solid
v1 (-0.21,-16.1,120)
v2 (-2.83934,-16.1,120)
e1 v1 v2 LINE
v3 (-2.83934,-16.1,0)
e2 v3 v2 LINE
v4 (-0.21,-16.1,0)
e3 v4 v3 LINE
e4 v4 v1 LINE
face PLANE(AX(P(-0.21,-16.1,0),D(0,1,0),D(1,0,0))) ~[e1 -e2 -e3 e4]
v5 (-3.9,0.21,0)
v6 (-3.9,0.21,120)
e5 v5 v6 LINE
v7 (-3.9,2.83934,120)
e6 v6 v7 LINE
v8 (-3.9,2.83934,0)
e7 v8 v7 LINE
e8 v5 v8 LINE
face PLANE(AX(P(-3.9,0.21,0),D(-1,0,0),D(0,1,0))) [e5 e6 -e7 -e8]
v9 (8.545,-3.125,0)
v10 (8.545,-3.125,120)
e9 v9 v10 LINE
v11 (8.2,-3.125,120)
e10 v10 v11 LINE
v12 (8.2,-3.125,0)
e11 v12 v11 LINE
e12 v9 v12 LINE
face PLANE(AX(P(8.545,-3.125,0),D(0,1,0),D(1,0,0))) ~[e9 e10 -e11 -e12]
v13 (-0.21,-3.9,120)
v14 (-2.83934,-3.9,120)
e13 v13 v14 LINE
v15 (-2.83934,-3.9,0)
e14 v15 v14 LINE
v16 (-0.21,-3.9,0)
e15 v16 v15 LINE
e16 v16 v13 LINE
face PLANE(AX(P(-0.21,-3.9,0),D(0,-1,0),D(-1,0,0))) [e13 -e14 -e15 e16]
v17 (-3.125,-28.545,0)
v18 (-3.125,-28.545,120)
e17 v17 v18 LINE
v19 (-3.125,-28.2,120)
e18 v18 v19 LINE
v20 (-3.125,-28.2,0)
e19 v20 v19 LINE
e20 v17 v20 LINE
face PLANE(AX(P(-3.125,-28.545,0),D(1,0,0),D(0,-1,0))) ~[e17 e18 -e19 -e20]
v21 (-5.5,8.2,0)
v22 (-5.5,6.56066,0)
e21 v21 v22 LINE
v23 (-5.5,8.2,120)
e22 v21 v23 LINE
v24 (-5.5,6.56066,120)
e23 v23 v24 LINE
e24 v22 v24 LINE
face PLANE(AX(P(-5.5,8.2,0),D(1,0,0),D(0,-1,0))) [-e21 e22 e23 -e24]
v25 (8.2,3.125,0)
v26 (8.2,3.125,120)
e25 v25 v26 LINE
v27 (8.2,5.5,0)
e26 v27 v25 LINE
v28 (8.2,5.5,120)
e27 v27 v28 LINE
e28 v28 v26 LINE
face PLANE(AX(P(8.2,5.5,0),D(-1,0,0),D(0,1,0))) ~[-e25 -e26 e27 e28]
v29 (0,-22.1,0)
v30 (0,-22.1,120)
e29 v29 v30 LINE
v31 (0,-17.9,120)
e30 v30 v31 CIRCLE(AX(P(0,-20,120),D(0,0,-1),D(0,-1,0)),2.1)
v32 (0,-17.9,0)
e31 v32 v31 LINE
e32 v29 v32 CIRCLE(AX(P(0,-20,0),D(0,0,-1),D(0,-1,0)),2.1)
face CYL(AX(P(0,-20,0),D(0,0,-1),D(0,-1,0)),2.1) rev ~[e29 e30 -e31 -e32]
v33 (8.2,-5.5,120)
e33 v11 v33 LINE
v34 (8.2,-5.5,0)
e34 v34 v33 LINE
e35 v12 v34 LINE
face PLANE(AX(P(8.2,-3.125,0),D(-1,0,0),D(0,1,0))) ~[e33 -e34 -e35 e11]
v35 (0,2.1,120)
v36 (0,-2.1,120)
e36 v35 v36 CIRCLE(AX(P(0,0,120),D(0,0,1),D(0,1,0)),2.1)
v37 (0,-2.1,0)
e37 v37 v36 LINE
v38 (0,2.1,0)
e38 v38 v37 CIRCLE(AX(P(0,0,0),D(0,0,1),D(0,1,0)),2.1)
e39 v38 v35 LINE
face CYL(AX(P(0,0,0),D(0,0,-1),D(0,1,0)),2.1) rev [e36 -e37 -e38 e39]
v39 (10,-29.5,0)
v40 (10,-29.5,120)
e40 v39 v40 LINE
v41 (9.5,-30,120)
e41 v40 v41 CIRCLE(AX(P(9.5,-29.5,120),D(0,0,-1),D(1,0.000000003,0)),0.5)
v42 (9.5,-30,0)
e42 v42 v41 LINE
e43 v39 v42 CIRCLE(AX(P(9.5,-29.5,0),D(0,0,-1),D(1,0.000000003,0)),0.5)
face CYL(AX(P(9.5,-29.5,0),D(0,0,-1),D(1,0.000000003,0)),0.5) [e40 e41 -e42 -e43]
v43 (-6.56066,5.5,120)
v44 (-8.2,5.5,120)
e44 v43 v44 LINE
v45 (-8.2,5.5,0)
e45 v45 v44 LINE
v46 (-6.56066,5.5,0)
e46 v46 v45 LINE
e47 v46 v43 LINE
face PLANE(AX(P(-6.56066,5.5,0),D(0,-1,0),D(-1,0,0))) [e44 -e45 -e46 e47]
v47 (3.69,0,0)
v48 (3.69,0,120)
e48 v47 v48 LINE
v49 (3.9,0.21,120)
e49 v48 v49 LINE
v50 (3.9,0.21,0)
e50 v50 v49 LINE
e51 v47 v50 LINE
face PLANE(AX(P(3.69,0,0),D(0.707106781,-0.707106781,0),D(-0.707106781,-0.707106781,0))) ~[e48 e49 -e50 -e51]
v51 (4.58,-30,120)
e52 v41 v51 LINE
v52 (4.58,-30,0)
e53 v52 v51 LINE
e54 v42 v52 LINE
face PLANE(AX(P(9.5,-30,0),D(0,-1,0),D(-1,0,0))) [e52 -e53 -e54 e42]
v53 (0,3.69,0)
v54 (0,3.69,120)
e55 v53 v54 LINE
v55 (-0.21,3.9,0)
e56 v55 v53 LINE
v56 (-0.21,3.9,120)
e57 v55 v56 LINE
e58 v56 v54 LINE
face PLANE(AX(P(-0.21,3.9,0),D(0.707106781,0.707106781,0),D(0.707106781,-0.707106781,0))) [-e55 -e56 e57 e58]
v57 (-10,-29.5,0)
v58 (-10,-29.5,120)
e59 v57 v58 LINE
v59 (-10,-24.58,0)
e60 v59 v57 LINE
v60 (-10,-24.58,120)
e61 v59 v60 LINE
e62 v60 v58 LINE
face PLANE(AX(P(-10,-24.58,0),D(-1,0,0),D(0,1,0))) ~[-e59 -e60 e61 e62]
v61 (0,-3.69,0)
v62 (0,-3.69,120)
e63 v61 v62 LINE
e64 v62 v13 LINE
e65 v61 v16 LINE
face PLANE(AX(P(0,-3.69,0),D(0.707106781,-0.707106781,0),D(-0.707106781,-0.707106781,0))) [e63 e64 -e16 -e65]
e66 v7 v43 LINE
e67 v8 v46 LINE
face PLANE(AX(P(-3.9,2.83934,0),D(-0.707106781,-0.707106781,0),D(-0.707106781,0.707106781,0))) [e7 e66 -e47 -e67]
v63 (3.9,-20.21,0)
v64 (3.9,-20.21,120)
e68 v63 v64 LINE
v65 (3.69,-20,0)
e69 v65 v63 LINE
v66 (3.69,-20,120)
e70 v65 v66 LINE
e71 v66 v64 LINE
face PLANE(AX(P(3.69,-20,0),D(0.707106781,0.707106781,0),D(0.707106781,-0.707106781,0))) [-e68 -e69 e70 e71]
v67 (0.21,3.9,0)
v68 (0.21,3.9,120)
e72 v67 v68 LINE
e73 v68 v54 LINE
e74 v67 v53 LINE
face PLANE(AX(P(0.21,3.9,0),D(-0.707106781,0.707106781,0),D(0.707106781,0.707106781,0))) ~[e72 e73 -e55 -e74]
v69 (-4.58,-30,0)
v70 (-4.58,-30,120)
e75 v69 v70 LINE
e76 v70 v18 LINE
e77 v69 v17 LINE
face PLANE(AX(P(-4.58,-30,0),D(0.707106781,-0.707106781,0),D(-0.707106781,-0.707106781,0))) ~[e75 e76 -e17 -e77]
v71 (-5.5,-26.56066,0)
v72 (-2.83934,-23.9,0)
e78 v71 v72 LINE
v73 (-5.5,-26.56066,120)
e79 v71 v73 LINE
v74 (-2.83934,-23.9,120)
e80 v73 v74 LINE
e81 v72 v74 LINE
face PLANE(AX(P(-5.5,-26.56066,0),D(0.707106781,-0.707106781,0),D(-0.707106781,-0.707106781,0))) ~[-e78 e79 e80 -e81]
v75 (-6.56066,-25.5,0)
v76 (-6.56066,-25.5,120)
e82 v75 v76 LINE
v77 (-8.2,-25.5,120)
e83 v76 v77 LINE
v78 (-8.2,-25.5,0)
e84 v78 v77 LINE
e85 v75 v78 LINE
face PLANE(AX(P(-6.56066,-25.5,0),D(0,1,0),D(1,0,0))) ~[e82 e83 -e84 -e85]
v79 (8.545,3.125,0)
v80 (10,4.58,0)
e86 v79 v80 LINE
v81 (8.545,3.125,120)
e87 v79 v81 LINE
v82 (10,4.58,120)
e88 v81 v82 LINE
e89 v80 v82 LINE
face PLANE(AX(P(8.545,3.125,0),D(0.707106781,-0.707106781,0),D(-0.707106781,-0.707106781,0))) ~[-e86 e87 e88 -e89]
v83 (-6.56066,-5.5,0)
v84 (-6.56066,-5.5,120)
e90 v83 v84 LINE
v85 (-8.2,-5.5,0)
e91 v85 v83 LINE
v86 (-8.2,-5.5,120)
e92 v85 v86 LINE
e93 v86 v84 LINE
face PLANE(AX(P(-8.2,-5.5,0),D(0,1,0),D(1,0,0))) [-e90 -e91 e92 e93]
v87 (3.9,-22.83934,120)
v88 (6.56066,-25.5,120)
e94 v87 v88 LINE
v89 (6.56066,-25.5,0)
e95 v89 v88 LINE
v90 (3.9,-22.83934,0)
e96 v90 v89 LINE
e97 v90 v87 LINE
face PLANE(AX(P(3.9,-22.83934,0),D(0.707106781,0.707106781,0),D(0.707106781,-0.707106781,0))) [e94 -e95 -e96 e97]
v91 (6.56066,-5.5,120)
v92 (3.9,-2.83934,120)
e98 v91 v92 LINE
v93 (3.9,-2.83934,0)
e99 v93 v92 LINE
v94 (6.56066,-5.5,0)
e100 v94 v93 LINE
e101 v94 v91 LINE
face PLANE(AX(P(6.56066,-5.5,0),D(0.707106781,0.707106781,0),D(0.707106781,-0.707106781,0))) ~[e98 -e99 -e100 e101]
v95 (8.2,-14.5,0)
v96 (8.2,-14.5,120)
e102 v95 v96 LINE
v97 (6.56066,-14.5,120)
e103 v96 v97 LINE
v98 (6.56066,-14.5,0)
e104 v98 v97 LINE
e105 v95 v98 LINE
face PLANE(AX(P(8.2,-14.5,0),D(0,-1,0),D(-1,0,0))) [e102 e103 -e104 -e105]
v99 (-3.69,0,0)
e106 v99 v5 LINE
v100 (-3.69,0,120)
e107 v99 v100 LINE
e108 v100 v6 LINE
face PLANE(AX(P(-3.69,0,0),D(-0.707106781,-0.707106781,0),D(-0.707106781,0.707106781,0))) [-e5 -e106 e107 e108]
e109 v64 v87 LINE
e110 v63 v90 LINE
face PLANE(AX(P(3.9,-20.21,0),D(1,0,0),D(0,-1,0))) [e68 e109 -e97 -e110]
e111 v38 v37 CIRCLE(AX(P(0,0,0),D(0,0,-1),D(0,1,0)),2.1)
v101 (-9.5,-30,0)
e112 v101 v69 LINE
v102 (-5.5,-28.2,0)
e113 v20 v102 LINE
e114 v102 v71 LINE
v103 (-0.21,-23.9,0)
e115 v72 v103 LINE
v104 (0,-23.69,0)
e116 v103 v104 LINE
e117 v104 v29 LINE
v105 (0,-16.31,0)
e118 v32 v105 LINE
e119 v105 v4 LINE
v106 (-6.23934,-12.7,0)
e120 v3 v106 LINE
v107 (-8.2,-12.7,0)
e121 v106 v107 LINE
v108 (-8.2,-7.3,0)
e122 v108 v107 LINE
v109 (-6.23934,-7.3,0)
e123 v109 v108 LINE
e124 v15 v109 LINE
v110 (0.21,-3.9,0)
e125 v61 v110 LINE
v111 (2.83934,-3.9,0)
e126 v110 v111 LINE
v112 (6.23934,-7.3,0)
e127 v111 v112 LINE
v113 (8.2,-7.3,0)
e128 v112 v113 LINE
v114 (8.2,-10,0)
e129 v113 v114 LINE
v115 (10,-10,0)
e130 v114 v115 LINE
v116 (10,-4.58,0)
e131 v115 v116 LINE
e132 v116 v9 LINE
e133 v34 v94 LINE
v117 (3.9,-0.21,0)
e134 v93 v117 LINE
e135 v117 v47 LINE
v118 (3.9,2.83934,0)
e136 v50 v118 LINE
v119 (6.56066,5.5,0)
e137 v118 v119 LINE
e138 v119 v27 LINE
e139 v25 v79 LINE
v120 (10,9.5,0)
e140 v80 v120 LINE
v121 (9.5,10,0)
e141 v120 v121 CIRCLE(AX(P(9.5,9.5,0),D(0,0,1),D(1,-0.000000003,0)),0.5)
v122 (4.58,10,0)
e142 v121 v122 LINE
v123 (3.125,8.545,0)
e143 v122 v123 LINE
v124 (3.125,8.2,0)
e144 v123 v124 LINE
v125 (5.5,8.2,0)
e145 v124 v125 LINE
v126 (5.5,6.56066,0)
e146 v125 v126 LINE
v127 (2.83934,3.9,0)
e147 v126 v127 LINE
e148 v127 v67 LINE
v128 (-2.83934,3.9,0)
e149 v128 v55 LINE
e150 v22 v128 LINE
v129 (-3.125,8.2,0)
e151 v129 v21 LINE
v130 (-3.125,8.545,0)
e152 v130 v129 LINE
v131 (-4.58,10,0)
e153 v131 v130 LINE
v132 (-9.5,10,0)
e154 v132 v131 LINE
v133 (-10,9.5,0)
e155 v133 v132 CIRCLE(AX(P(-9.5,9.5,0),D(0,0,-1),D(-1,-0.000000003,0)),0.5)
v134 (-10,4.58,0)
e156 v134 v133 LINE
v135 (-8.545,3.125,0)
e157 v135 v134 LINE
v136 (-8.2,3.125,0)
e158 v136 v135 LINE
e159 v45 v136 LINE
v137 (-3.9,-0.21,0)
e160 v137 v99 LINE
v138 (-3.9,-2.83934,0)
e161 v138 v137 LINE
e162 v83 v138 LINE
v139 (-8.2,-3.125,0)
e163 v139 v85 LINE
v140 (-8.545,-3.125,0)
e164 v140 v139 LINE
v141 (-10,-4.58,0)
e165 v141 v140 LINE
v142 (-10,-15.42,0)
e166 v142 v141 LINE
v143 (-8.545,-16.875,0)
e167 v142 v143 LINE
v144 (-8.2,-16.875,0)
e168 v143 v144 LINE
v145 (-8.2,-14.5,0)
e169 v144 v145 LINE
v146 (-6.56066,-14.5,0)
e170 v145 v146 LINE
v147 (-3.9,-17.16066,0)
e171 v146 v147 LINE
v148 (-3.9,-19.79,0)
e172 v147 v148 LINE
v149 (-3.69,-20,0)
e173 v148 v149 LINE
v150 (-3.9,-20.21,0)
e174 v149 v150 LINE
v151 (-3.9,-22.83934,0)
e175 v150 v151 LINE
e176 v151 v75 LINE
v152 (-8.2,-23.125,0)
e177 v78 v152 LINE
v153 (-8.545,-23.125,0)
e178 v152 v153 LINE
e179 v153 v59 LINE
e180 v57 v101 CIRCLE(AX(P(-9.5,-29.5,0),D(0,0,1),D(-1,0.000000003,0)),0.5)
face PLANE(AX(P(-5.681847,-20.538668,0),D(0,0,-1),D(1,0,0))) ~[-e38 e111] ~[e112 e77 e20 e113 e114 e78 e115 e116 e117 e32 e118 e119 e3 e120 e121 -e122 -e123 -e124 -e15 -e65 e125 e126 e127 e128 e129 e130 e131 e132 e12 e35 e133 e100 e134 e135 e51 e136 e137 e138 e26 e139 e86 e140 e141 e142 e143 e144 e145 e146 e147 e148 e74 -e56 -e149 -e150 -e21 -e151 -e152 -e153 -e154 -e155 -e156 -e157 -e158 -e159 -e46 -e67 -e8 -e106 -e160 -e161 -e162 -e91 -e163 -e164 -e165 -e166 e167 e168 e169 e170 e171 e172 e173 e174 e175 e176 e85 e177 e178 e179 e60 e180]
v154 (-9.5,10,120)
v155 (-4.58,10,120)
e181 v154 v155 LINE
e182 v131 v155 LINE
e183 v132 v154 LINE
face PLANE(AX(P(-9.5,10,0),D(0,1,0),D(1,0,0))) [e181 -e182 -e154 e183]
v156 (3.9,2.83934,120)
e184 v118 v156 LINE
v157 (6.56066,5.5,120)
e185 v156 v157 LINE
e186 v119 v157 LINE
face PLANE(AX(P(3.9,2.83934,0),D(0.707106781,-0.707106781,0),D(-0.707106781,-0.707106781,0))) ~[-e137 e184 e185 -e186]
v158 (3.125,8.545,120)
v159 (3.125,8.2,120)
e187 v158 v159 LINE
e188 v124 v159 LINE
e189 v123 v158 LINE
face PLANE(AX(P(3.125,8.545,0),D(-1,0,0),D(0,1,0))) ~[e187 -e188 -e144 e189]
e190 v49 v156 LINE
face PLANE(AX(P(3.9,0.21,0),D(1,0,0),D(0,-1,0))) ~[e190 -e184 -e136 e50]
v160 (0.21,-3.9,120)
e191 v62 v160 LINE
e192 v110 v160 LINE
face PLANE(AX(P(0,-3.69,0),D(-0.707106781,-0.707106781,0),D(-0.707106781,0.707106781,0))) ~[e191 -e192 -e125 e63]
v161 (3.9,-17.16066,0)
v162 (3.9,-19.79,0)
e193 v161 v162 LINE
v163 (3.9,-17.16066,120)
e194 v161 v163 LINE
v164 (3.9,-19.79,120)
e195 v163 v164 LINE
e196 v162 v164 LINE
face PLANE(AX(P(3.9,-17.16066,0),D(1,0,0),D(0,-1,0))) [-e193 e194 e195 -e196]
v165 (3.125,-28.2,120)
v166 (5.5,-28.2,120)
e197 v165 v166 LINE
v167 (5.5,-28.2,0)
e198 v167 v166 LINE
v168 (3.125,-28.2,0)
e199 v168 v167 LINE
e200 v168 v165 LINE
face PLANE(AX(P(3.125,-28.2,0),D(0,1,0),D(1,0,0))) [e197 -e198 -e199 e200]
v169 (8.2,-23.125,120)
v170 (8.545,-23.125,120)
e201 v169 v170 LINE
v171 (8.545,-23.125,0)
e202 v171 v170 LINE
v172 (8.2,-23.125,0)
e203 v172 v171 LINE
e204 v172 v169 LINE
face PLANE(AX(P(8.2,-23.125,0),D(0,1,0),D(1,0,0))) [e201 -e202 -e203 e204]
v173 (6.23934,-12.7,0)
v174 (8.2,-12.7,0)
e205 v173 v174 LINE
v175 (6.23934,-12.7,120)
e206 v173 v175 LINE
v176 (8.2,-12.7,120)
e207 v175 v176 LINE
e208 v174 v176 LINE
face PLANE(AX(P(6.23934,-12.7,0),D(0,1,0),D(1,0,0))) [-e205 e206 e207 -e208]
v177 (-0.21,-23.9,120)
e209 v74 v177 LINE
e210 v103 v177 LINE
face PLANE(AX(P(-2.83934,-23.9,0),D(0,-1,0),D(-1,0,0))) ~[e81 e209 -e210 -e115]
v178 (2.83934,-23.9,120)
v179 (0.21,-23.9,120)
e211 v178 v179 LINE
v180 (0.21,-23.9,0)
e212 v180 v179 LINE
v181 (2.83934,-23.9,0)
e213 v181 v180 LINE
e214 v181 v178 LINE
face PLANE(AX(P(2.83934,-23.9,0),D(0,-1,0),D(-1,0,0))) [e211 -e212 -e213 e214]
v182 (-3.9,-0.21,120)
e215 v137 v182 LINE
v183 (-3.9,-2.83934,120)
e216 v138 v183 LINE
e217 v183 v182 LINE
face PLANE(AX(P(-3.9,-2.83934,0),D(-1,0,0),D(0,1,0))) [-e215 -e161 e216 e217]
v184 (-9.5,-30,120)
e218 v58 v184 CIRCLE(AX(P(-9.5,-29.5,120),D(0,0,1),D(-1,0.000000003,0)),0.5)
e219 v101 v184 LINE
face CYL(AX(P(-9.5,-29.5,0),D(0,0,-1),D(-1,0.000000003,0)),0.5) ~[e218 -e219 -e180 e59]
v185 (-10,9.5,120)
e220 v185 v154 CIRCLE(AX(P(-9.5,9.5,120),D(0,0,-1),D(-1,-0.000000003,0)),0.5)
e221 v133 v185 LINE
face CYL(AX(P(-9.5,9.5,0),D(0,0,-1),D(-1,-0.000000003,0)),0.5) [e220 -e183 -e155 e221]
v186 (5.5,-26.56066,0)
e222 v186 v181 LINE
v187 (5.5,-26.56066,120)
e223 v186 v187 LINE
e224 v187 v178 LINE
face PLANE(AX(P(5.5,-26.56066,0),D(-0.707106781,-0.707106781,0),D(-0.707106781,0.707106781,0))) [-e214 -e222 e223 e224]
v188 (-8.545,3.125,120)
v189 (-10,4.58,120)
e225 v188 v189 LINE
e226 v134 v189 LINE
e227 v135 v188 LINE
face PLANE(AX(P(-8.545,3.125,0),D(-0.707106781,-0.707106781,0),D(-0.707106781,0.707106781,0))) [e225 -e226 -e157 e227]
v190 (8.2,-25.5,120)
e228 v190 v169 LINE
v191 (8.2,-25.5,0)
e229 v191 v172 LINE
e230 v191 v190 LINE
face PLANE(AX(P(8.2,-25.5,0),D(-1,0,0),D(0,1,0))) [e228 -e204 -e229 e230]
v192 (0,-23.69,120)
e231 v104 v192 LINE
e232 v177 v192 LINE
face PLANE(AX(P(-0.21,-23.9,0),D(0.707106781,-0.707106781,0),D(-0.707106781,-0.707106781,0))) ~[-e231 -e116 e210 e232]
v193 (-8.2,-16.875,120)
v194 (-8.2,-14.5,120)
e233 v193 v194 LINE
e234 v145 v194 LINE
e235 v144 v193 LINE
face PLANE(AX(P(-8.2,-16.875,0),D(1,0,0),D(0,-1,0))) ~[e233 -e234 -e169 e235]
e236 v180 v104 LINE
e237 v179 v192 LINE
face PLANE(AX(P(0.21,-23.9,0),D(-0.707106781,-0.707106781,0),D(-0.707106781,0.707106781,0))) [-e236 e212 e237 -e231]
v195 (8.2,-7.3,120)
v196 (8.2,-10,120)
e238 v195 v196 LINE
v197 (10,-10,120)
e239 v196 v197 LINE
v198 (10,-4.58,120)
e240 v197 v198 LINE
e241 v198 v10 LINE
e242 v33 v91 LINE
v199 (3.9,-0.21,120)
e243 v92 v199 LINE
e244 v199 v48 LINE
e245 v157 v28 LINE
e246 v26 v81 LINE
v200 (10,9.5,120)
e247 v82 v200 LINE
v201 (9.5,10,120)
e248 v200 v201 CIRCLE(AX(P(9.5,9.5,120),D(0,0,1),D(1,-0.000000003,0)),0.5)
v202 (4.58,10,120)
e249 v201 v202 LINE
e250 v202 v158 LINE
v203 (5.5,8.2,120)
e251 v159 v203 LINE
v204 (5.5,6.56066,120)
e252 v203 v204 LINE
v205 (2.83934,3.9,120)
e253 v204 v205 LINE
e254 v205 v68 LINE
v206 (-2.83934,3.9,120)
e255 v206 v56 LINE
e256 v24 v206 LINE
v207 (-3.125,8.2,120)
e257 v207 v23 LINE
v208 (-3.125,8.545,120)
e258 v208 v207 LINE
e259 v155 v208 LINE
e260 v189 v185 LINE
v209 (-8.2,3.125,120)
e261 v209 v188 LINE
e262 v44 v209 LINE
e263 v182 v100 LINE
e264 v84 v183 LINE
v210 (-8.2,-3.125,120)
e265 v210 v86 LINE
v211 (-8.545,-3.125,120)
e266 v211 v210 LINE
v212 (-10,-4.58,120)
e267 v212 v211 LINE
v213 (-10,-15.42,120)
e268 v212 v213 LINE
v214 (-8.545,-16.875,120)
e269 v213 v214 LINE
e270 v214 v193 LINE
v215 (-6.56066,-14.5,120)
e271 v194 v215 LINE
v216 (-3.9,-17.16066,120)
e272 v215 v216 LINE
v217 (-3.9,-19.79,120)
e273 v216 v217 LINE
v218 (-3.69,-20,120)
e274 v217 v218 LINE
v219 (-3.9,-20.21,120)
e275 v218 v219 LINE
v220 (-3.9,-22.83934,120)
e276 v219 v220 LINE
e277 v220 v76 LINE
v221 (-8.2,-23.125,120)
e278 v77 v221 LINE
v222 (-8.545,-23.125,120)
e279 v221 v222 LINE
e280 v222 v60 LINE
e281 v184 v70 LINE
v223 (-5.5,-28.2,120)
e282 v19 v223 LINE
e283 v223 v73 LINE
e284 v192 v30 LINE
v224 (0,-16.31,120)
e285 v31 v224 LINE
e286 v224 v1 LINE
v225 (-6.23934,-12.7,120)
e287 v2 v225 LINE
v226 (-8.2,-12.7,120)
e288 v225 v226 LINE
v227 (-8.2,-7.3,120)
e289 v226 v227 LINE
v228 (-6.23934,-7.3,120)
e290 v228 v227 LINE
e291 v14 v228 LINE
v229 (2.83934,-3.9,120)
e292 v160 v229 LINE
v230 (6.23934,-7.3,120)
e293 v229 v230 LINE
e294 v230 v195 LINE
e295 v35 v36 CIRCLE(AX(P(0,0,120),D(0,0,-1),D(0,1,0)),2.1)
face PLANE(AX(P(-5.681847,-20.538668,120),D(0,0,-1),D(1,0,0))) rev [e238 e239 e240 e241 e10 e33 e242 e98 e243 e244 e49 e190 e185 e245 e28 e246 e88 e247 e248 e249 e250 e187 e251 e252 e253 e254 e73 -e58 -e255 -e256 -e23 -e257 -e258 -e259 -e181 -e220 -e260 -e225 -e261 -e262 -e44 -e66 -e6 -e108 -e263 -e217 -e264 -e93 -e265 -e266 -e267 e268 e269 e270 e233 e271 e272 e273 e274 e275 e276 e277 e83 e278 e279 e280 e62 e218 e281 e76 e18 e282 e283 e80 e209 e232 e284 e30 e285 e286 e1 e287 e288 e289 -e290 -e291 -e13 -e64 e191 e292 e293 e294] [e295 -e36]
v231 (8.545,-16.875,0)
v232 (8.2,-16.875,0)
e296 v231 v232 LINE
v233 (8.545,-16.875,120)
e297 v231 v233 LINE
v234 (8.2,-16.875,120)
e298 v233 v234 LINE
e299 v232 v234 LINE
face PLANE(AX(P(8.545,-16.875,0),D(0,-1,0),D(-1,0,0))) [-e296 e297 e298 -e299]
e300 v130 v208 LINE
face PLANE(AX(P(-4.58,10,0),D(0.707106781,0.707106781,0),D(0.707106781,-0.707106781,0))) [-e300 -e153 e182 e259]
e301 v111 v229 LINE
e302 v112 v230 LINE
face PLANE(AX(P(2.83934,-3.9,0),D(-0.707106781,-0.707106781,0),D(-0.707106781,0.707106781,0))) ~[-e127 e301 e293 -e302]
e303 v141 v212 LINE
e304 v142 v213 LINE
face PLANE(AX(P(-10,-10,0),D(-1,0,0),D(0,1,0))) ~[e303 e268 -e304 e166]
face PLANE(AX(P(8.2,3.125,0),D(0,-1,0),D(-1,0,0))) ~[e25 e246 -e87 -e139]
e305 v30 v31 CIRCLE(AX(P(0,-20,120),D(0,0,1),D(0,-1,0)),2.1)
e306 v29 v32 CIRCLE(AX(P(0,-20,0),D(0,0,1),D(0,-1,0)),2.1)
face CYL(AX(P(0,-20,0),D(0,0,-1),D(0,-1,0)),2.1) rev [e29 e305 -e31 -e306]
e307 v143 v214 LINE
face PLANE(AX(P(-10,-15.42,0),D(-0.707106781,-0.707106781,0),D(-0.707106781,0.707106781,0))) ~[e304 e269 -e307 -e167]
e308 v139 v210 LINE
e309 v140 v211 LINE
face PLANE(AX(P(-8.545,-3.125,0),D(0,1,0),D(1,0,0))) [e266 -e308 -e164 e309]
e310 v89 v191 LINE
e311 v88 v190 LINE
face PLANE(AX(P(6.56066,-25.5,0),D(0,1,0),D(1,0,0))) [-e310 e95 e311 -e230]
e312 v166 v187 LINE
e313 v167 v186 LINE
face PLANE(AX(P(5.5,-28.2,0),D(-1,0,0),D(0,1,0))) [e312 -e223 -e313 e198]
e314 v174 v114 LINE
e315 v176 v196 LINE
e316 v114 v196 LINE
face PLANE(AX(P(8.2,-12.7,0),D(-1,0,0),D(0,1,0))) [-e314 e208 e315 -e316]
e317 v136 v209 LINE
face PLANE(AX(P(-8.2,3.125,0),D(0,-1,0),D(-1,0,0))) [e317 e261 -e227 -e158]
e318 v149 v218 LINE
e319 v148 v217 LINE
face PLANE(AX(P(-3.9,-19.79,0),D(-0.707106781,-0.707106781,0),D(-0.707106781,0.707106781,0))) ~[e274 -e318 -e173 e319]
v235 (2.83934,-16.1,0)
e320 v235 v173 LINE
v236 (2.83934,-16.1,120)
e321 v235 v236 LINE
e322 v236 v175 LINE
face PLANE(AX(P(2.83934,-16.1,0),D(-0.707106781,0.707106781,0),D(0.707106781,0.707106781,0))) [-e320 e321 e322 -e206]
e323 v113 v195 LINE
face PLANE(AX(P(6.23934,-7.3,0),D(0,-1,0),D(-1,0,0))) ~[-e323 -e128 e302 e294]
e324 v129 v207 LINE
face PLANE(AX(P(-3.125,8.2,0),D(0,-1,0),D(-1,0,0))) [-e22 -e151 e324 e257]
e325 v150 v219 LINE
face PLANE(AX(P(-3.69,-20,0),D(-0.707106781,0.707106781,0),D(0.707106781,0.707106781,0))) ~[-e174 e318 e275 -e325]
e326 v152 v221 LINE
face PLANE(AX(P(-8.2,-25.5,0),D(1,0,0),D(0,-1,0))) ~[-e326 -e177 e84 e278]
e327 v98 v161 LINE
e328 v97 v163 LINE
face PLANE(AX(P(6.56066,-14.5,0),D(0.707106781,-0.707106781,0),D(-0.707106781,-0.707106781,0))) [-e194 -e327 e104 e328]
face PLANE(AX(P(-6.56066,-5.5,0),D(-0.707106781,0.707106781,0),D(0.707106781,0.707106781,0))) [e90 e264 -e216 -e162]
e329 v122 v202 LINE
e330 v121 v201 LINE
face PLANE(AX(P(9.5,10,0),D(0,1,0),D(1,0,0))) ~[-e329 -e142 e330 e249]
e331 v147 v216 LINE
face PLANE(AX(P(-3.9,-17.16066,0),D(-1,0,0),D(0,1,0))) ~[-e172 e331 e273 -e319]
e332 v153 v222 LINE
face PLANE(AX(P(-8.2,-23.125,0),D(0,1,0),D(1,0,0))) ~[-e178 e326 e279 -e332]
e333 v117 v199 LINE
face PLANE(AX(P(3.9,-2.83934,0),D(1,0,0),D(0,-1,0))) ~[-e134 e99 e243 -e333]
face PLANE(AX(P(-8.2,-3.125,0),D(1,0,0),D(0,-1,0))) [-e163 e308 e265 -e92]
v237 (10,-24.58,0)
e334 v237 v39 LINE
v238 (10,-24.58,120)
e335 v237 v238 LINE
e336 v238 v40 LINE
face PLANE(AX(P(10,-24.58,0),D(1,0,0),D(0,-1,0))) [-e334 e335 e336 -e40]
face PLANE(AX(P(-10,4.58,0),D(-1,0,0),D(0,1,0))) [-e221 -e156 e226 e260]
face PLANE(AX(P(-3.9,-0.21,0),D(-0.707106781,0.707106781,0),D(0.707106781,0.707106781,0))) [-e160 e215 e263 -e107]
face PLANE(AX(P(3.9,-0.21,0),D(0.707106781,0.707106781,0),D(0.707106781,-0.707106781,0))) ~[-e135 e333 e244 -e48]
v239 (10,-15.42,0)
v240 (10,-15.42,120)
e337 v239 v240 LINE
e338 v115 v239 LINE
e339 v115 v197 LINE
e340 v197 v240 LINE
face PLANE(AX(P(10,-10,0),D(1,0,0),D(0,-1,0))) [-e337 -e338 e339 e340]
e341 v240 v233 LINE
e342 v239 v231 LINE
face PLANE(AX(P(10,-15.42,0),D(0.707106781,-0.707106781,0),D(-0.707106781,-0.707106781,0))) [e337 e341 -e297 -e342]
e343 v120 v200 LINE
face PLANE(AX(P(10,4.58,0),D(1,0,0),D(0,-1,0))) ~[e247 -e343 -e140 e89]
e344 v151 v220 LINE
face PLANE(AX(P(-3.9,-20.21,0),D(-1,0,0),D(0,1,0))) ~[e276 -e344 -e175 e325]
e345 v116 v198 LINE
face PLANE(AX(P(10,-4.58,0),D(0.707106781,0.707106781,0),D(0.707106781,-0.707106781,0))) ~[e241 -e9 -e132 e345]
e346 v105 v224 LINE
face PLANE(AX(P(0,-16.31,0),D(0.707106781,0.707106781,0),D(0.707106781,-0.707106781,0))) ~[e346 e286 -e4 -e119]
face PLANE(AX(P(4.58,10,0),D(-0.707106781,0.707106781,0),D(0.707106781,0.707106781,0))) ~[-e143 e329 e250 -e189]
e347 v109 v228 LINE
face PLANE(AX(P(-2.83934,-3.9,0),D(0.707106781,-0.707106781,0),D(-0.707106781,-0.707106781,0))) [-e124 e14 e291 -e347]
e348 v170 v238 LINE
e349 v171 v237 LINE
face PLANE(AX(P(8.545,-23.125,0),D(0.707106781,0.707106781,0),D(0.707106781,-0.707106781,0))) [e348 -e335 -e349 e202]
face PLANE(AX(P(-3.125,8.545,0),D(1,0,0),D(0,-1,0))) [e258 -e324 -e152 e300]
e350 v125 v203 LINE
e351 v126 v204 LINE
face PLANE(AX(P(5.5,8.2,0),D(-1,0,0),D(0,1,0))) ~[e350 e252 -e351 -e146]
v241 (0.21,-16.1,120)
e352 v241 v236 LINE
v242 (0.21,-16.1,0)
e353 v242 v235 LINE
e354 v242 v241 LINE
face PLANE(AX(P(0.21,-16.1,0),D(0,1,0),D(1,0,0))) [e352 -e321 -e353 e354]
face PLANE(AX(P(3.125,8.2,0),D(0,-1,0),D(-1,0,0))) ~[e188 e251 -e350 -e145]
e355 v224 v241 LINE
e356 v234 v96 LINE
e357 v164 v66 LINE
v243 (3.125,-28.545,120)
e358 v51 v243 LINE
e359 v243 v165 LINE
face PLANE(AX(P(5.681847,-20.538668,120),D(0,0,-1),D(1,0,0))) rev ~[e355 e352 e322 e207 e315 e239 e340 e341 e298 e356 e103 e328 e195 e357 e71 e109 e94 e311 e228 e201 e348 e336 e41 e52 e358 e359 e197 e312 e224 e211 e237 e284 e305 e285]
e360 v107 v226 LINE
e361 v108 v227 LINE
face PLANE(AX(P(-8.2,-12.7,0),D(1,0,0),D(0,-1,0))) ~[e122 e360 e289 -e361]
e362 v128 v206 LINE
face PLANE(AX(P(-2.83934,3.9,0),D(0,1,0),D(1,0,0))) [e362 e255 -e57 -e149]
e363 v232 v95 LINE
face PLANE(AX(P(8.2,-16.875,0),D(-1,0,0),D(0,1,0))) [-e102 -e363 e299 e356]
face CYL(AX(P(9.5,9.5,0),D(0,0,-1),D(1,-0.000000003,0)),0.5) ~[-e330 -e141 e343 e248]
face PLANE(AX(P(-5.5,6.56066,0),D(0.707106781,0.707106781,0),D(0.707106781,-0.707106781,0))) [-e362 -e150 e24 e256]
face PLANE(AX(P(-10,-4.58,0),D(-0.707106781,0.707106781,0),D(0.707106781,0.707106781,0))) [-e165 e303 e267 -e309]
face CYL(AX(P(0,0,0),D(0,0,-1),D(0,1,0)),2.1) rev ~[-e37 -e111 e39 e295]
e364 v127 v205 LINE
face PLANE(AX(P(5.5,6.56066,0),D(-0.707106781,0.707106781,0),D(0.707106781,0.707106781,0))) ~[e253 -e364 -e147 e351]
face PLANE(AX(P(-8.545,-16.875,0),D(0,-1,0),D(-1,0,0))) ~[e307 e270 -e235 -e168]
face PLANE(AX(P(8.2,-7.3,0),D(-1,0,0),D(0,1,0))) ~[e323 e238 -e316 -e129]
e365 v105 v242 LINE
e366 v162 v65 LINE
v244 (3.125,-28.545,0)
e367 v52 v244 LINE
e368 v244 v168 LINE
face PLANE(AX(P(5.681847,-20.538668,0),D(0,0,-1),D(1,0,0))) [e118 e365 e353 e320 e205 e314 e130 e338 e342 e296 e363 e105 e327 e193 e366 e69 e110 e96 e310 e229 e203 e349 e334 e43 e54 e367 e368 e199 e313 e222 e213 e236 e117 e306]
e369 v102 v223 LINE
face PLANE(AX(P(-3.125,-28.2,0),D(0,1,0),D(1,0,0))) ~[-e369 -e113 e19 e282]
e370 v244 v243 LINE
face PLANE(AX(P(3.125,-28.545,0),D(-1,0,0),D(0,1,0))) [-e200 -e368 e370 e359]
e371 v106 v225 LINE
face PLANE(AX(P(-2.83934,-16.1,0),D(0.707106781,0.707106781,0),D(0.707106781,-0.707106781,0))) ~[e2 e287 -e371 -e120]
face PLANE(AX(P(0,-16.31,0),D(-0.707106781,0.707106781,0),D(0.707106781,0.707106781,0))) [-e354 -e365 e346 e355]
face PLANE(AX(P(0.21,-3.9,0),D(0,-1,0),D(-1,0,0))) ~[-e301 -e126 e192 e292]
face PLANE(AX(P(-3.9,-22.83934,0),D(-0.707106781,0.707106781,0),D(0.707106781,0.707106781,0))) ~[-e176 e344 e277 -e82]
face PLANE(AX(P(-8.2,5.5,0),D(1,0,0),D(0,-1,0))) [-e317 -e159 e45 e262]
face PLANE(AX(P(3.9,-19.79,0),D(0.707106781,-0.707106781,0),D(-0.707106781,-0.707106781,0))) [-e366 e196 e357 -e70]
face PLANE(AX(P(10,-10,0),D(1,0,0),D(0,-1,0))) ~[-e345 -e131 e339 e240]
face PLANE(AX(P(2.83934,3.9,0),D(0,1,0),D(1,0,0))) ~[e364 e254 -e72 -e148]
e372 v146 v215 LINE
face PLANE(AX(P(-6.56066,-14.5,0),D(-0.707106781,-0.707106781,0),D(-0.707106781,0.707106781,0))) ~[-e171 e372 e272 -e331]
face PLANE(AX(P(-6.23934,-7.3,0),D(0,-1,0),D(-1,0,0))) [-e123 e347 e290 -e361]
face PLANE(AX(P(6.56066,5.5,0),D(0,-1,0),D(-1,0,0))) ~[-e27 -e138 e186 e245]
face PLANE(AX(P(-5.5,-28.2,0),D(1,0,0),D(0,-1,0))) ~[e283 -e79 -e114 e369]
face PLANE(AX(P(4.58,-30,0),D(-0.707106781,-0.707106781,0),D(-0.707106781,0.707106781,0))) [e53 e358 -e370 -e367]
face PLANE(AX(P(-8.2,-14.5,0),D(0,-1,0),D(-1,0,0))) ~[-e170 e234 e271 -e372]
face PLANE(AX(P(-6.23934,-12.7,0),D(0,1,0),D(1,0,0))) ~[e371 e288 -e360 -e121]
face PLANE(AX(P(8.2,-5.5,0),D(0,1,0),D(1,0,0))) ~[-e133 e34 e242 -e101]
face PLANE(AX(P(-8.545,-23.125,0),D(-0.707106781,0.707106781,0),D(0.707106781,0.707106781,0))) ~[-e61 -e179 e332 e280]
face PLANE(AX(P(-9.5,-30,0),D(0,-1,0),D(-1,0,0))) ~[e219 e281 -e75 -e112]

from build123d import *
from build123d.topology import SkipClean

# Parameters (mm, degrees)
BOSS_EXTRU_1_DEPTH     = 120
SYM_TRIE6_COPY_1_DEPTH = 120


with BuildPart() as part:
    # Esquisse1 → Boss.-Extru.1 (new body)
    with BuildSketch(Plane.XY):
        with BuildLine():
            Line((-9.5, 10), (-4.58, 10))
            Line((-4.58, 10), (-3.125, 8.545))
            Line((-3.125, 8.545), (-3.125, 8.2))
            Line((-3.125, 8.2), (-5.5, 8.2))
            Line((-5.5, 8.2), (-5.5, 6.560660172))
            Line((-5.5, 6.560660172), (-2.839339828, 3.9))
            Line((-2.839339828, 3.9), (-0.21, 3.9))
            Line((-0.21, 3.9), (0, 3.69))
            Line((0, 3.69), (0, 2.1))
            ThreePointArc((0, 2.1), (-2.1, 0), (0, -2.1))
            Line((0, -2.1), (0, -3.69))
            Line((0, -3.69), (-0.21, -3.9))
            Line((-0.21, -3.9), (-2.839339828, -3.9))
            Line((-2.839339828, -3.9), (-6.239339828, -7.3))
            Line((-6.239339828, -7.3), (-8.2, -7.3))
            Line((-8.2, -7.3), (-8.2, -10))
            Line((-8.2, -10), (-10, -10))
            Line((-10, -10), (-10, -4.58))
            Line((-10, -4.58), (-8.545, -3.125))
            Line((-8.545, -3.125), (-8.2, -3.125))
            Line((-8.2, -3.125), (-8.2, -5.5))
            Line((-8.2, -5.5), (-6.560660172, -5.5))
            Line((-6.560660172, -5.5), (-3.9, -2.839339828))
            Line((-3.9, -2.839339828), (-3.9, -0.21))
            Line((-3.9, -0.21), (-3.69, 0))
            Line((-3.69, 0), (-3.9, 0.21))
            Line((-3.9, 0.21), (-3.9, 2.839339828))
            Line((-3.9, 2.839339828), (-6.560660172, 5.5))
            Line((-6.560660172, 5.5), (-8.2, 5.5))
            Line((-8.2, 5.5), (-8.2, 3.125))
            Line((-8.2, 3.125), (-8.545, 3.125))
            Line((-8.545, 3.125), (-10, 4.58))
            Line((-10, 4.58), (-10, 9.5))
            ThreePointArc((-10, 9.5), (-9.853553391, 9.853553391), (-9.5, 10))
        make_face()
    boss_extru_1 = extrude(amount=BOSS_EXTRU_1_DEPTH)

    # Symétrie1: Boss.-Extru.1 across plane
    add(boss_extru_1.mirror(Plane(origin=(0, 3.69, 120), x_dir=(0, 0, 1), z_dir=(-1, 0, 0))))

    # Symétrie6: Boss.-Extru.1 across plane
    add(boss_extru_1.mirror(Plane(origin=(-8.2, -10, 120), x_dir=(0, 0, 1), z_dir=(0, 1, 0))))

    # Symétrie6 copy 1 sketch → Symétrie6 copy 1 (add)
    with SkipClean():  # the faces are left unmerged after this step: merging them gives an invalid solid
        with BuildSketch(Plane(origin=(0, -20, 0), x_dir=(-1, 0, 0), z_dir=(0, 0, 1))):
            with BuildLine():
                Line((-9.5, 10), (-4.58, 10))
                Line((-4.58, 10), (-3.125, 8.545))
                Line((-3.125, 8.545), (-3.125, 8.2))
                Line((-3.125, 8.2), (-5.5, 8.2))
                Line((-5.5, 8.2), (-5.5, 6.560660172))
                Line((-5.5, 6.560660172), (-2.839339828, 3.9))
                Line((-2.839339828, 3.9), (-0.21, 3.9))
                Line((-0.21, 3.9), (0, 3.69))
                Line((0, 3.69), (0, 2.1))
                ThreePointArc((0, 2.1), (-2.1, 0), (0, -2.1))
                Line((0, -2.1), (0, -3.69))
                Line((0, -3.69), (-0.21, -3.9))
                Line((-0.21, -3.9), (-2.839339828, -3.9))
                Line((-2.839339828, -3.9), (-6.239339828, -7.3))
                Line((-6.239339828, -7.3), (-8.2, -7.3))
                Line((-8.2, -7.3), (-8.2, -10))
                Line((-8.2, -10), (-10, -10))
                Line((-10, -10), (-10, -4.58))
                Line((-10, -4.58), (-8.545, -3.125))
                Line((-8.545, -3.125), (-8.2, -3.125))
                Line((-8.2, -3.125), (-8.2, -5.5))
                Line((-8.2, -5.5), (-6.560660172, -5.5))
                Line((-6.560660172, -5.5), (-3.9, -2.839339828))
                Line((-3.9, -2.839339828), (-3.9, -0.21))
                Line((-3.9, -0.21), (-3.69, 0))
                Line((-3.69, 0), (-3.9, 0.21))
                Line((-3.9, 0.21), (-3.9, 2.839339828))
                Line((-3.9, 2.839339828), (-6.560660172, 5.5))
                Line((-6.560660172, 5.5), (-8.2, 5.5))
                Line((-8.2, 5.5), (-8.2, 3.125))
                Line((-8.2, 3.125), (-8.545, 3.125))
                Line((-8.545, 3.125), (-10, 4.58))
                Line((-10, 4.58), (-10, 9.5))
                ThreePointArc((-10, 9.5), (-9.853553391, 9.853553391), (-9.5, 10))
            make_face()
        extrude(amount=SYM_TRIE6_COPY_1_DEPTH)


solid = part.part
